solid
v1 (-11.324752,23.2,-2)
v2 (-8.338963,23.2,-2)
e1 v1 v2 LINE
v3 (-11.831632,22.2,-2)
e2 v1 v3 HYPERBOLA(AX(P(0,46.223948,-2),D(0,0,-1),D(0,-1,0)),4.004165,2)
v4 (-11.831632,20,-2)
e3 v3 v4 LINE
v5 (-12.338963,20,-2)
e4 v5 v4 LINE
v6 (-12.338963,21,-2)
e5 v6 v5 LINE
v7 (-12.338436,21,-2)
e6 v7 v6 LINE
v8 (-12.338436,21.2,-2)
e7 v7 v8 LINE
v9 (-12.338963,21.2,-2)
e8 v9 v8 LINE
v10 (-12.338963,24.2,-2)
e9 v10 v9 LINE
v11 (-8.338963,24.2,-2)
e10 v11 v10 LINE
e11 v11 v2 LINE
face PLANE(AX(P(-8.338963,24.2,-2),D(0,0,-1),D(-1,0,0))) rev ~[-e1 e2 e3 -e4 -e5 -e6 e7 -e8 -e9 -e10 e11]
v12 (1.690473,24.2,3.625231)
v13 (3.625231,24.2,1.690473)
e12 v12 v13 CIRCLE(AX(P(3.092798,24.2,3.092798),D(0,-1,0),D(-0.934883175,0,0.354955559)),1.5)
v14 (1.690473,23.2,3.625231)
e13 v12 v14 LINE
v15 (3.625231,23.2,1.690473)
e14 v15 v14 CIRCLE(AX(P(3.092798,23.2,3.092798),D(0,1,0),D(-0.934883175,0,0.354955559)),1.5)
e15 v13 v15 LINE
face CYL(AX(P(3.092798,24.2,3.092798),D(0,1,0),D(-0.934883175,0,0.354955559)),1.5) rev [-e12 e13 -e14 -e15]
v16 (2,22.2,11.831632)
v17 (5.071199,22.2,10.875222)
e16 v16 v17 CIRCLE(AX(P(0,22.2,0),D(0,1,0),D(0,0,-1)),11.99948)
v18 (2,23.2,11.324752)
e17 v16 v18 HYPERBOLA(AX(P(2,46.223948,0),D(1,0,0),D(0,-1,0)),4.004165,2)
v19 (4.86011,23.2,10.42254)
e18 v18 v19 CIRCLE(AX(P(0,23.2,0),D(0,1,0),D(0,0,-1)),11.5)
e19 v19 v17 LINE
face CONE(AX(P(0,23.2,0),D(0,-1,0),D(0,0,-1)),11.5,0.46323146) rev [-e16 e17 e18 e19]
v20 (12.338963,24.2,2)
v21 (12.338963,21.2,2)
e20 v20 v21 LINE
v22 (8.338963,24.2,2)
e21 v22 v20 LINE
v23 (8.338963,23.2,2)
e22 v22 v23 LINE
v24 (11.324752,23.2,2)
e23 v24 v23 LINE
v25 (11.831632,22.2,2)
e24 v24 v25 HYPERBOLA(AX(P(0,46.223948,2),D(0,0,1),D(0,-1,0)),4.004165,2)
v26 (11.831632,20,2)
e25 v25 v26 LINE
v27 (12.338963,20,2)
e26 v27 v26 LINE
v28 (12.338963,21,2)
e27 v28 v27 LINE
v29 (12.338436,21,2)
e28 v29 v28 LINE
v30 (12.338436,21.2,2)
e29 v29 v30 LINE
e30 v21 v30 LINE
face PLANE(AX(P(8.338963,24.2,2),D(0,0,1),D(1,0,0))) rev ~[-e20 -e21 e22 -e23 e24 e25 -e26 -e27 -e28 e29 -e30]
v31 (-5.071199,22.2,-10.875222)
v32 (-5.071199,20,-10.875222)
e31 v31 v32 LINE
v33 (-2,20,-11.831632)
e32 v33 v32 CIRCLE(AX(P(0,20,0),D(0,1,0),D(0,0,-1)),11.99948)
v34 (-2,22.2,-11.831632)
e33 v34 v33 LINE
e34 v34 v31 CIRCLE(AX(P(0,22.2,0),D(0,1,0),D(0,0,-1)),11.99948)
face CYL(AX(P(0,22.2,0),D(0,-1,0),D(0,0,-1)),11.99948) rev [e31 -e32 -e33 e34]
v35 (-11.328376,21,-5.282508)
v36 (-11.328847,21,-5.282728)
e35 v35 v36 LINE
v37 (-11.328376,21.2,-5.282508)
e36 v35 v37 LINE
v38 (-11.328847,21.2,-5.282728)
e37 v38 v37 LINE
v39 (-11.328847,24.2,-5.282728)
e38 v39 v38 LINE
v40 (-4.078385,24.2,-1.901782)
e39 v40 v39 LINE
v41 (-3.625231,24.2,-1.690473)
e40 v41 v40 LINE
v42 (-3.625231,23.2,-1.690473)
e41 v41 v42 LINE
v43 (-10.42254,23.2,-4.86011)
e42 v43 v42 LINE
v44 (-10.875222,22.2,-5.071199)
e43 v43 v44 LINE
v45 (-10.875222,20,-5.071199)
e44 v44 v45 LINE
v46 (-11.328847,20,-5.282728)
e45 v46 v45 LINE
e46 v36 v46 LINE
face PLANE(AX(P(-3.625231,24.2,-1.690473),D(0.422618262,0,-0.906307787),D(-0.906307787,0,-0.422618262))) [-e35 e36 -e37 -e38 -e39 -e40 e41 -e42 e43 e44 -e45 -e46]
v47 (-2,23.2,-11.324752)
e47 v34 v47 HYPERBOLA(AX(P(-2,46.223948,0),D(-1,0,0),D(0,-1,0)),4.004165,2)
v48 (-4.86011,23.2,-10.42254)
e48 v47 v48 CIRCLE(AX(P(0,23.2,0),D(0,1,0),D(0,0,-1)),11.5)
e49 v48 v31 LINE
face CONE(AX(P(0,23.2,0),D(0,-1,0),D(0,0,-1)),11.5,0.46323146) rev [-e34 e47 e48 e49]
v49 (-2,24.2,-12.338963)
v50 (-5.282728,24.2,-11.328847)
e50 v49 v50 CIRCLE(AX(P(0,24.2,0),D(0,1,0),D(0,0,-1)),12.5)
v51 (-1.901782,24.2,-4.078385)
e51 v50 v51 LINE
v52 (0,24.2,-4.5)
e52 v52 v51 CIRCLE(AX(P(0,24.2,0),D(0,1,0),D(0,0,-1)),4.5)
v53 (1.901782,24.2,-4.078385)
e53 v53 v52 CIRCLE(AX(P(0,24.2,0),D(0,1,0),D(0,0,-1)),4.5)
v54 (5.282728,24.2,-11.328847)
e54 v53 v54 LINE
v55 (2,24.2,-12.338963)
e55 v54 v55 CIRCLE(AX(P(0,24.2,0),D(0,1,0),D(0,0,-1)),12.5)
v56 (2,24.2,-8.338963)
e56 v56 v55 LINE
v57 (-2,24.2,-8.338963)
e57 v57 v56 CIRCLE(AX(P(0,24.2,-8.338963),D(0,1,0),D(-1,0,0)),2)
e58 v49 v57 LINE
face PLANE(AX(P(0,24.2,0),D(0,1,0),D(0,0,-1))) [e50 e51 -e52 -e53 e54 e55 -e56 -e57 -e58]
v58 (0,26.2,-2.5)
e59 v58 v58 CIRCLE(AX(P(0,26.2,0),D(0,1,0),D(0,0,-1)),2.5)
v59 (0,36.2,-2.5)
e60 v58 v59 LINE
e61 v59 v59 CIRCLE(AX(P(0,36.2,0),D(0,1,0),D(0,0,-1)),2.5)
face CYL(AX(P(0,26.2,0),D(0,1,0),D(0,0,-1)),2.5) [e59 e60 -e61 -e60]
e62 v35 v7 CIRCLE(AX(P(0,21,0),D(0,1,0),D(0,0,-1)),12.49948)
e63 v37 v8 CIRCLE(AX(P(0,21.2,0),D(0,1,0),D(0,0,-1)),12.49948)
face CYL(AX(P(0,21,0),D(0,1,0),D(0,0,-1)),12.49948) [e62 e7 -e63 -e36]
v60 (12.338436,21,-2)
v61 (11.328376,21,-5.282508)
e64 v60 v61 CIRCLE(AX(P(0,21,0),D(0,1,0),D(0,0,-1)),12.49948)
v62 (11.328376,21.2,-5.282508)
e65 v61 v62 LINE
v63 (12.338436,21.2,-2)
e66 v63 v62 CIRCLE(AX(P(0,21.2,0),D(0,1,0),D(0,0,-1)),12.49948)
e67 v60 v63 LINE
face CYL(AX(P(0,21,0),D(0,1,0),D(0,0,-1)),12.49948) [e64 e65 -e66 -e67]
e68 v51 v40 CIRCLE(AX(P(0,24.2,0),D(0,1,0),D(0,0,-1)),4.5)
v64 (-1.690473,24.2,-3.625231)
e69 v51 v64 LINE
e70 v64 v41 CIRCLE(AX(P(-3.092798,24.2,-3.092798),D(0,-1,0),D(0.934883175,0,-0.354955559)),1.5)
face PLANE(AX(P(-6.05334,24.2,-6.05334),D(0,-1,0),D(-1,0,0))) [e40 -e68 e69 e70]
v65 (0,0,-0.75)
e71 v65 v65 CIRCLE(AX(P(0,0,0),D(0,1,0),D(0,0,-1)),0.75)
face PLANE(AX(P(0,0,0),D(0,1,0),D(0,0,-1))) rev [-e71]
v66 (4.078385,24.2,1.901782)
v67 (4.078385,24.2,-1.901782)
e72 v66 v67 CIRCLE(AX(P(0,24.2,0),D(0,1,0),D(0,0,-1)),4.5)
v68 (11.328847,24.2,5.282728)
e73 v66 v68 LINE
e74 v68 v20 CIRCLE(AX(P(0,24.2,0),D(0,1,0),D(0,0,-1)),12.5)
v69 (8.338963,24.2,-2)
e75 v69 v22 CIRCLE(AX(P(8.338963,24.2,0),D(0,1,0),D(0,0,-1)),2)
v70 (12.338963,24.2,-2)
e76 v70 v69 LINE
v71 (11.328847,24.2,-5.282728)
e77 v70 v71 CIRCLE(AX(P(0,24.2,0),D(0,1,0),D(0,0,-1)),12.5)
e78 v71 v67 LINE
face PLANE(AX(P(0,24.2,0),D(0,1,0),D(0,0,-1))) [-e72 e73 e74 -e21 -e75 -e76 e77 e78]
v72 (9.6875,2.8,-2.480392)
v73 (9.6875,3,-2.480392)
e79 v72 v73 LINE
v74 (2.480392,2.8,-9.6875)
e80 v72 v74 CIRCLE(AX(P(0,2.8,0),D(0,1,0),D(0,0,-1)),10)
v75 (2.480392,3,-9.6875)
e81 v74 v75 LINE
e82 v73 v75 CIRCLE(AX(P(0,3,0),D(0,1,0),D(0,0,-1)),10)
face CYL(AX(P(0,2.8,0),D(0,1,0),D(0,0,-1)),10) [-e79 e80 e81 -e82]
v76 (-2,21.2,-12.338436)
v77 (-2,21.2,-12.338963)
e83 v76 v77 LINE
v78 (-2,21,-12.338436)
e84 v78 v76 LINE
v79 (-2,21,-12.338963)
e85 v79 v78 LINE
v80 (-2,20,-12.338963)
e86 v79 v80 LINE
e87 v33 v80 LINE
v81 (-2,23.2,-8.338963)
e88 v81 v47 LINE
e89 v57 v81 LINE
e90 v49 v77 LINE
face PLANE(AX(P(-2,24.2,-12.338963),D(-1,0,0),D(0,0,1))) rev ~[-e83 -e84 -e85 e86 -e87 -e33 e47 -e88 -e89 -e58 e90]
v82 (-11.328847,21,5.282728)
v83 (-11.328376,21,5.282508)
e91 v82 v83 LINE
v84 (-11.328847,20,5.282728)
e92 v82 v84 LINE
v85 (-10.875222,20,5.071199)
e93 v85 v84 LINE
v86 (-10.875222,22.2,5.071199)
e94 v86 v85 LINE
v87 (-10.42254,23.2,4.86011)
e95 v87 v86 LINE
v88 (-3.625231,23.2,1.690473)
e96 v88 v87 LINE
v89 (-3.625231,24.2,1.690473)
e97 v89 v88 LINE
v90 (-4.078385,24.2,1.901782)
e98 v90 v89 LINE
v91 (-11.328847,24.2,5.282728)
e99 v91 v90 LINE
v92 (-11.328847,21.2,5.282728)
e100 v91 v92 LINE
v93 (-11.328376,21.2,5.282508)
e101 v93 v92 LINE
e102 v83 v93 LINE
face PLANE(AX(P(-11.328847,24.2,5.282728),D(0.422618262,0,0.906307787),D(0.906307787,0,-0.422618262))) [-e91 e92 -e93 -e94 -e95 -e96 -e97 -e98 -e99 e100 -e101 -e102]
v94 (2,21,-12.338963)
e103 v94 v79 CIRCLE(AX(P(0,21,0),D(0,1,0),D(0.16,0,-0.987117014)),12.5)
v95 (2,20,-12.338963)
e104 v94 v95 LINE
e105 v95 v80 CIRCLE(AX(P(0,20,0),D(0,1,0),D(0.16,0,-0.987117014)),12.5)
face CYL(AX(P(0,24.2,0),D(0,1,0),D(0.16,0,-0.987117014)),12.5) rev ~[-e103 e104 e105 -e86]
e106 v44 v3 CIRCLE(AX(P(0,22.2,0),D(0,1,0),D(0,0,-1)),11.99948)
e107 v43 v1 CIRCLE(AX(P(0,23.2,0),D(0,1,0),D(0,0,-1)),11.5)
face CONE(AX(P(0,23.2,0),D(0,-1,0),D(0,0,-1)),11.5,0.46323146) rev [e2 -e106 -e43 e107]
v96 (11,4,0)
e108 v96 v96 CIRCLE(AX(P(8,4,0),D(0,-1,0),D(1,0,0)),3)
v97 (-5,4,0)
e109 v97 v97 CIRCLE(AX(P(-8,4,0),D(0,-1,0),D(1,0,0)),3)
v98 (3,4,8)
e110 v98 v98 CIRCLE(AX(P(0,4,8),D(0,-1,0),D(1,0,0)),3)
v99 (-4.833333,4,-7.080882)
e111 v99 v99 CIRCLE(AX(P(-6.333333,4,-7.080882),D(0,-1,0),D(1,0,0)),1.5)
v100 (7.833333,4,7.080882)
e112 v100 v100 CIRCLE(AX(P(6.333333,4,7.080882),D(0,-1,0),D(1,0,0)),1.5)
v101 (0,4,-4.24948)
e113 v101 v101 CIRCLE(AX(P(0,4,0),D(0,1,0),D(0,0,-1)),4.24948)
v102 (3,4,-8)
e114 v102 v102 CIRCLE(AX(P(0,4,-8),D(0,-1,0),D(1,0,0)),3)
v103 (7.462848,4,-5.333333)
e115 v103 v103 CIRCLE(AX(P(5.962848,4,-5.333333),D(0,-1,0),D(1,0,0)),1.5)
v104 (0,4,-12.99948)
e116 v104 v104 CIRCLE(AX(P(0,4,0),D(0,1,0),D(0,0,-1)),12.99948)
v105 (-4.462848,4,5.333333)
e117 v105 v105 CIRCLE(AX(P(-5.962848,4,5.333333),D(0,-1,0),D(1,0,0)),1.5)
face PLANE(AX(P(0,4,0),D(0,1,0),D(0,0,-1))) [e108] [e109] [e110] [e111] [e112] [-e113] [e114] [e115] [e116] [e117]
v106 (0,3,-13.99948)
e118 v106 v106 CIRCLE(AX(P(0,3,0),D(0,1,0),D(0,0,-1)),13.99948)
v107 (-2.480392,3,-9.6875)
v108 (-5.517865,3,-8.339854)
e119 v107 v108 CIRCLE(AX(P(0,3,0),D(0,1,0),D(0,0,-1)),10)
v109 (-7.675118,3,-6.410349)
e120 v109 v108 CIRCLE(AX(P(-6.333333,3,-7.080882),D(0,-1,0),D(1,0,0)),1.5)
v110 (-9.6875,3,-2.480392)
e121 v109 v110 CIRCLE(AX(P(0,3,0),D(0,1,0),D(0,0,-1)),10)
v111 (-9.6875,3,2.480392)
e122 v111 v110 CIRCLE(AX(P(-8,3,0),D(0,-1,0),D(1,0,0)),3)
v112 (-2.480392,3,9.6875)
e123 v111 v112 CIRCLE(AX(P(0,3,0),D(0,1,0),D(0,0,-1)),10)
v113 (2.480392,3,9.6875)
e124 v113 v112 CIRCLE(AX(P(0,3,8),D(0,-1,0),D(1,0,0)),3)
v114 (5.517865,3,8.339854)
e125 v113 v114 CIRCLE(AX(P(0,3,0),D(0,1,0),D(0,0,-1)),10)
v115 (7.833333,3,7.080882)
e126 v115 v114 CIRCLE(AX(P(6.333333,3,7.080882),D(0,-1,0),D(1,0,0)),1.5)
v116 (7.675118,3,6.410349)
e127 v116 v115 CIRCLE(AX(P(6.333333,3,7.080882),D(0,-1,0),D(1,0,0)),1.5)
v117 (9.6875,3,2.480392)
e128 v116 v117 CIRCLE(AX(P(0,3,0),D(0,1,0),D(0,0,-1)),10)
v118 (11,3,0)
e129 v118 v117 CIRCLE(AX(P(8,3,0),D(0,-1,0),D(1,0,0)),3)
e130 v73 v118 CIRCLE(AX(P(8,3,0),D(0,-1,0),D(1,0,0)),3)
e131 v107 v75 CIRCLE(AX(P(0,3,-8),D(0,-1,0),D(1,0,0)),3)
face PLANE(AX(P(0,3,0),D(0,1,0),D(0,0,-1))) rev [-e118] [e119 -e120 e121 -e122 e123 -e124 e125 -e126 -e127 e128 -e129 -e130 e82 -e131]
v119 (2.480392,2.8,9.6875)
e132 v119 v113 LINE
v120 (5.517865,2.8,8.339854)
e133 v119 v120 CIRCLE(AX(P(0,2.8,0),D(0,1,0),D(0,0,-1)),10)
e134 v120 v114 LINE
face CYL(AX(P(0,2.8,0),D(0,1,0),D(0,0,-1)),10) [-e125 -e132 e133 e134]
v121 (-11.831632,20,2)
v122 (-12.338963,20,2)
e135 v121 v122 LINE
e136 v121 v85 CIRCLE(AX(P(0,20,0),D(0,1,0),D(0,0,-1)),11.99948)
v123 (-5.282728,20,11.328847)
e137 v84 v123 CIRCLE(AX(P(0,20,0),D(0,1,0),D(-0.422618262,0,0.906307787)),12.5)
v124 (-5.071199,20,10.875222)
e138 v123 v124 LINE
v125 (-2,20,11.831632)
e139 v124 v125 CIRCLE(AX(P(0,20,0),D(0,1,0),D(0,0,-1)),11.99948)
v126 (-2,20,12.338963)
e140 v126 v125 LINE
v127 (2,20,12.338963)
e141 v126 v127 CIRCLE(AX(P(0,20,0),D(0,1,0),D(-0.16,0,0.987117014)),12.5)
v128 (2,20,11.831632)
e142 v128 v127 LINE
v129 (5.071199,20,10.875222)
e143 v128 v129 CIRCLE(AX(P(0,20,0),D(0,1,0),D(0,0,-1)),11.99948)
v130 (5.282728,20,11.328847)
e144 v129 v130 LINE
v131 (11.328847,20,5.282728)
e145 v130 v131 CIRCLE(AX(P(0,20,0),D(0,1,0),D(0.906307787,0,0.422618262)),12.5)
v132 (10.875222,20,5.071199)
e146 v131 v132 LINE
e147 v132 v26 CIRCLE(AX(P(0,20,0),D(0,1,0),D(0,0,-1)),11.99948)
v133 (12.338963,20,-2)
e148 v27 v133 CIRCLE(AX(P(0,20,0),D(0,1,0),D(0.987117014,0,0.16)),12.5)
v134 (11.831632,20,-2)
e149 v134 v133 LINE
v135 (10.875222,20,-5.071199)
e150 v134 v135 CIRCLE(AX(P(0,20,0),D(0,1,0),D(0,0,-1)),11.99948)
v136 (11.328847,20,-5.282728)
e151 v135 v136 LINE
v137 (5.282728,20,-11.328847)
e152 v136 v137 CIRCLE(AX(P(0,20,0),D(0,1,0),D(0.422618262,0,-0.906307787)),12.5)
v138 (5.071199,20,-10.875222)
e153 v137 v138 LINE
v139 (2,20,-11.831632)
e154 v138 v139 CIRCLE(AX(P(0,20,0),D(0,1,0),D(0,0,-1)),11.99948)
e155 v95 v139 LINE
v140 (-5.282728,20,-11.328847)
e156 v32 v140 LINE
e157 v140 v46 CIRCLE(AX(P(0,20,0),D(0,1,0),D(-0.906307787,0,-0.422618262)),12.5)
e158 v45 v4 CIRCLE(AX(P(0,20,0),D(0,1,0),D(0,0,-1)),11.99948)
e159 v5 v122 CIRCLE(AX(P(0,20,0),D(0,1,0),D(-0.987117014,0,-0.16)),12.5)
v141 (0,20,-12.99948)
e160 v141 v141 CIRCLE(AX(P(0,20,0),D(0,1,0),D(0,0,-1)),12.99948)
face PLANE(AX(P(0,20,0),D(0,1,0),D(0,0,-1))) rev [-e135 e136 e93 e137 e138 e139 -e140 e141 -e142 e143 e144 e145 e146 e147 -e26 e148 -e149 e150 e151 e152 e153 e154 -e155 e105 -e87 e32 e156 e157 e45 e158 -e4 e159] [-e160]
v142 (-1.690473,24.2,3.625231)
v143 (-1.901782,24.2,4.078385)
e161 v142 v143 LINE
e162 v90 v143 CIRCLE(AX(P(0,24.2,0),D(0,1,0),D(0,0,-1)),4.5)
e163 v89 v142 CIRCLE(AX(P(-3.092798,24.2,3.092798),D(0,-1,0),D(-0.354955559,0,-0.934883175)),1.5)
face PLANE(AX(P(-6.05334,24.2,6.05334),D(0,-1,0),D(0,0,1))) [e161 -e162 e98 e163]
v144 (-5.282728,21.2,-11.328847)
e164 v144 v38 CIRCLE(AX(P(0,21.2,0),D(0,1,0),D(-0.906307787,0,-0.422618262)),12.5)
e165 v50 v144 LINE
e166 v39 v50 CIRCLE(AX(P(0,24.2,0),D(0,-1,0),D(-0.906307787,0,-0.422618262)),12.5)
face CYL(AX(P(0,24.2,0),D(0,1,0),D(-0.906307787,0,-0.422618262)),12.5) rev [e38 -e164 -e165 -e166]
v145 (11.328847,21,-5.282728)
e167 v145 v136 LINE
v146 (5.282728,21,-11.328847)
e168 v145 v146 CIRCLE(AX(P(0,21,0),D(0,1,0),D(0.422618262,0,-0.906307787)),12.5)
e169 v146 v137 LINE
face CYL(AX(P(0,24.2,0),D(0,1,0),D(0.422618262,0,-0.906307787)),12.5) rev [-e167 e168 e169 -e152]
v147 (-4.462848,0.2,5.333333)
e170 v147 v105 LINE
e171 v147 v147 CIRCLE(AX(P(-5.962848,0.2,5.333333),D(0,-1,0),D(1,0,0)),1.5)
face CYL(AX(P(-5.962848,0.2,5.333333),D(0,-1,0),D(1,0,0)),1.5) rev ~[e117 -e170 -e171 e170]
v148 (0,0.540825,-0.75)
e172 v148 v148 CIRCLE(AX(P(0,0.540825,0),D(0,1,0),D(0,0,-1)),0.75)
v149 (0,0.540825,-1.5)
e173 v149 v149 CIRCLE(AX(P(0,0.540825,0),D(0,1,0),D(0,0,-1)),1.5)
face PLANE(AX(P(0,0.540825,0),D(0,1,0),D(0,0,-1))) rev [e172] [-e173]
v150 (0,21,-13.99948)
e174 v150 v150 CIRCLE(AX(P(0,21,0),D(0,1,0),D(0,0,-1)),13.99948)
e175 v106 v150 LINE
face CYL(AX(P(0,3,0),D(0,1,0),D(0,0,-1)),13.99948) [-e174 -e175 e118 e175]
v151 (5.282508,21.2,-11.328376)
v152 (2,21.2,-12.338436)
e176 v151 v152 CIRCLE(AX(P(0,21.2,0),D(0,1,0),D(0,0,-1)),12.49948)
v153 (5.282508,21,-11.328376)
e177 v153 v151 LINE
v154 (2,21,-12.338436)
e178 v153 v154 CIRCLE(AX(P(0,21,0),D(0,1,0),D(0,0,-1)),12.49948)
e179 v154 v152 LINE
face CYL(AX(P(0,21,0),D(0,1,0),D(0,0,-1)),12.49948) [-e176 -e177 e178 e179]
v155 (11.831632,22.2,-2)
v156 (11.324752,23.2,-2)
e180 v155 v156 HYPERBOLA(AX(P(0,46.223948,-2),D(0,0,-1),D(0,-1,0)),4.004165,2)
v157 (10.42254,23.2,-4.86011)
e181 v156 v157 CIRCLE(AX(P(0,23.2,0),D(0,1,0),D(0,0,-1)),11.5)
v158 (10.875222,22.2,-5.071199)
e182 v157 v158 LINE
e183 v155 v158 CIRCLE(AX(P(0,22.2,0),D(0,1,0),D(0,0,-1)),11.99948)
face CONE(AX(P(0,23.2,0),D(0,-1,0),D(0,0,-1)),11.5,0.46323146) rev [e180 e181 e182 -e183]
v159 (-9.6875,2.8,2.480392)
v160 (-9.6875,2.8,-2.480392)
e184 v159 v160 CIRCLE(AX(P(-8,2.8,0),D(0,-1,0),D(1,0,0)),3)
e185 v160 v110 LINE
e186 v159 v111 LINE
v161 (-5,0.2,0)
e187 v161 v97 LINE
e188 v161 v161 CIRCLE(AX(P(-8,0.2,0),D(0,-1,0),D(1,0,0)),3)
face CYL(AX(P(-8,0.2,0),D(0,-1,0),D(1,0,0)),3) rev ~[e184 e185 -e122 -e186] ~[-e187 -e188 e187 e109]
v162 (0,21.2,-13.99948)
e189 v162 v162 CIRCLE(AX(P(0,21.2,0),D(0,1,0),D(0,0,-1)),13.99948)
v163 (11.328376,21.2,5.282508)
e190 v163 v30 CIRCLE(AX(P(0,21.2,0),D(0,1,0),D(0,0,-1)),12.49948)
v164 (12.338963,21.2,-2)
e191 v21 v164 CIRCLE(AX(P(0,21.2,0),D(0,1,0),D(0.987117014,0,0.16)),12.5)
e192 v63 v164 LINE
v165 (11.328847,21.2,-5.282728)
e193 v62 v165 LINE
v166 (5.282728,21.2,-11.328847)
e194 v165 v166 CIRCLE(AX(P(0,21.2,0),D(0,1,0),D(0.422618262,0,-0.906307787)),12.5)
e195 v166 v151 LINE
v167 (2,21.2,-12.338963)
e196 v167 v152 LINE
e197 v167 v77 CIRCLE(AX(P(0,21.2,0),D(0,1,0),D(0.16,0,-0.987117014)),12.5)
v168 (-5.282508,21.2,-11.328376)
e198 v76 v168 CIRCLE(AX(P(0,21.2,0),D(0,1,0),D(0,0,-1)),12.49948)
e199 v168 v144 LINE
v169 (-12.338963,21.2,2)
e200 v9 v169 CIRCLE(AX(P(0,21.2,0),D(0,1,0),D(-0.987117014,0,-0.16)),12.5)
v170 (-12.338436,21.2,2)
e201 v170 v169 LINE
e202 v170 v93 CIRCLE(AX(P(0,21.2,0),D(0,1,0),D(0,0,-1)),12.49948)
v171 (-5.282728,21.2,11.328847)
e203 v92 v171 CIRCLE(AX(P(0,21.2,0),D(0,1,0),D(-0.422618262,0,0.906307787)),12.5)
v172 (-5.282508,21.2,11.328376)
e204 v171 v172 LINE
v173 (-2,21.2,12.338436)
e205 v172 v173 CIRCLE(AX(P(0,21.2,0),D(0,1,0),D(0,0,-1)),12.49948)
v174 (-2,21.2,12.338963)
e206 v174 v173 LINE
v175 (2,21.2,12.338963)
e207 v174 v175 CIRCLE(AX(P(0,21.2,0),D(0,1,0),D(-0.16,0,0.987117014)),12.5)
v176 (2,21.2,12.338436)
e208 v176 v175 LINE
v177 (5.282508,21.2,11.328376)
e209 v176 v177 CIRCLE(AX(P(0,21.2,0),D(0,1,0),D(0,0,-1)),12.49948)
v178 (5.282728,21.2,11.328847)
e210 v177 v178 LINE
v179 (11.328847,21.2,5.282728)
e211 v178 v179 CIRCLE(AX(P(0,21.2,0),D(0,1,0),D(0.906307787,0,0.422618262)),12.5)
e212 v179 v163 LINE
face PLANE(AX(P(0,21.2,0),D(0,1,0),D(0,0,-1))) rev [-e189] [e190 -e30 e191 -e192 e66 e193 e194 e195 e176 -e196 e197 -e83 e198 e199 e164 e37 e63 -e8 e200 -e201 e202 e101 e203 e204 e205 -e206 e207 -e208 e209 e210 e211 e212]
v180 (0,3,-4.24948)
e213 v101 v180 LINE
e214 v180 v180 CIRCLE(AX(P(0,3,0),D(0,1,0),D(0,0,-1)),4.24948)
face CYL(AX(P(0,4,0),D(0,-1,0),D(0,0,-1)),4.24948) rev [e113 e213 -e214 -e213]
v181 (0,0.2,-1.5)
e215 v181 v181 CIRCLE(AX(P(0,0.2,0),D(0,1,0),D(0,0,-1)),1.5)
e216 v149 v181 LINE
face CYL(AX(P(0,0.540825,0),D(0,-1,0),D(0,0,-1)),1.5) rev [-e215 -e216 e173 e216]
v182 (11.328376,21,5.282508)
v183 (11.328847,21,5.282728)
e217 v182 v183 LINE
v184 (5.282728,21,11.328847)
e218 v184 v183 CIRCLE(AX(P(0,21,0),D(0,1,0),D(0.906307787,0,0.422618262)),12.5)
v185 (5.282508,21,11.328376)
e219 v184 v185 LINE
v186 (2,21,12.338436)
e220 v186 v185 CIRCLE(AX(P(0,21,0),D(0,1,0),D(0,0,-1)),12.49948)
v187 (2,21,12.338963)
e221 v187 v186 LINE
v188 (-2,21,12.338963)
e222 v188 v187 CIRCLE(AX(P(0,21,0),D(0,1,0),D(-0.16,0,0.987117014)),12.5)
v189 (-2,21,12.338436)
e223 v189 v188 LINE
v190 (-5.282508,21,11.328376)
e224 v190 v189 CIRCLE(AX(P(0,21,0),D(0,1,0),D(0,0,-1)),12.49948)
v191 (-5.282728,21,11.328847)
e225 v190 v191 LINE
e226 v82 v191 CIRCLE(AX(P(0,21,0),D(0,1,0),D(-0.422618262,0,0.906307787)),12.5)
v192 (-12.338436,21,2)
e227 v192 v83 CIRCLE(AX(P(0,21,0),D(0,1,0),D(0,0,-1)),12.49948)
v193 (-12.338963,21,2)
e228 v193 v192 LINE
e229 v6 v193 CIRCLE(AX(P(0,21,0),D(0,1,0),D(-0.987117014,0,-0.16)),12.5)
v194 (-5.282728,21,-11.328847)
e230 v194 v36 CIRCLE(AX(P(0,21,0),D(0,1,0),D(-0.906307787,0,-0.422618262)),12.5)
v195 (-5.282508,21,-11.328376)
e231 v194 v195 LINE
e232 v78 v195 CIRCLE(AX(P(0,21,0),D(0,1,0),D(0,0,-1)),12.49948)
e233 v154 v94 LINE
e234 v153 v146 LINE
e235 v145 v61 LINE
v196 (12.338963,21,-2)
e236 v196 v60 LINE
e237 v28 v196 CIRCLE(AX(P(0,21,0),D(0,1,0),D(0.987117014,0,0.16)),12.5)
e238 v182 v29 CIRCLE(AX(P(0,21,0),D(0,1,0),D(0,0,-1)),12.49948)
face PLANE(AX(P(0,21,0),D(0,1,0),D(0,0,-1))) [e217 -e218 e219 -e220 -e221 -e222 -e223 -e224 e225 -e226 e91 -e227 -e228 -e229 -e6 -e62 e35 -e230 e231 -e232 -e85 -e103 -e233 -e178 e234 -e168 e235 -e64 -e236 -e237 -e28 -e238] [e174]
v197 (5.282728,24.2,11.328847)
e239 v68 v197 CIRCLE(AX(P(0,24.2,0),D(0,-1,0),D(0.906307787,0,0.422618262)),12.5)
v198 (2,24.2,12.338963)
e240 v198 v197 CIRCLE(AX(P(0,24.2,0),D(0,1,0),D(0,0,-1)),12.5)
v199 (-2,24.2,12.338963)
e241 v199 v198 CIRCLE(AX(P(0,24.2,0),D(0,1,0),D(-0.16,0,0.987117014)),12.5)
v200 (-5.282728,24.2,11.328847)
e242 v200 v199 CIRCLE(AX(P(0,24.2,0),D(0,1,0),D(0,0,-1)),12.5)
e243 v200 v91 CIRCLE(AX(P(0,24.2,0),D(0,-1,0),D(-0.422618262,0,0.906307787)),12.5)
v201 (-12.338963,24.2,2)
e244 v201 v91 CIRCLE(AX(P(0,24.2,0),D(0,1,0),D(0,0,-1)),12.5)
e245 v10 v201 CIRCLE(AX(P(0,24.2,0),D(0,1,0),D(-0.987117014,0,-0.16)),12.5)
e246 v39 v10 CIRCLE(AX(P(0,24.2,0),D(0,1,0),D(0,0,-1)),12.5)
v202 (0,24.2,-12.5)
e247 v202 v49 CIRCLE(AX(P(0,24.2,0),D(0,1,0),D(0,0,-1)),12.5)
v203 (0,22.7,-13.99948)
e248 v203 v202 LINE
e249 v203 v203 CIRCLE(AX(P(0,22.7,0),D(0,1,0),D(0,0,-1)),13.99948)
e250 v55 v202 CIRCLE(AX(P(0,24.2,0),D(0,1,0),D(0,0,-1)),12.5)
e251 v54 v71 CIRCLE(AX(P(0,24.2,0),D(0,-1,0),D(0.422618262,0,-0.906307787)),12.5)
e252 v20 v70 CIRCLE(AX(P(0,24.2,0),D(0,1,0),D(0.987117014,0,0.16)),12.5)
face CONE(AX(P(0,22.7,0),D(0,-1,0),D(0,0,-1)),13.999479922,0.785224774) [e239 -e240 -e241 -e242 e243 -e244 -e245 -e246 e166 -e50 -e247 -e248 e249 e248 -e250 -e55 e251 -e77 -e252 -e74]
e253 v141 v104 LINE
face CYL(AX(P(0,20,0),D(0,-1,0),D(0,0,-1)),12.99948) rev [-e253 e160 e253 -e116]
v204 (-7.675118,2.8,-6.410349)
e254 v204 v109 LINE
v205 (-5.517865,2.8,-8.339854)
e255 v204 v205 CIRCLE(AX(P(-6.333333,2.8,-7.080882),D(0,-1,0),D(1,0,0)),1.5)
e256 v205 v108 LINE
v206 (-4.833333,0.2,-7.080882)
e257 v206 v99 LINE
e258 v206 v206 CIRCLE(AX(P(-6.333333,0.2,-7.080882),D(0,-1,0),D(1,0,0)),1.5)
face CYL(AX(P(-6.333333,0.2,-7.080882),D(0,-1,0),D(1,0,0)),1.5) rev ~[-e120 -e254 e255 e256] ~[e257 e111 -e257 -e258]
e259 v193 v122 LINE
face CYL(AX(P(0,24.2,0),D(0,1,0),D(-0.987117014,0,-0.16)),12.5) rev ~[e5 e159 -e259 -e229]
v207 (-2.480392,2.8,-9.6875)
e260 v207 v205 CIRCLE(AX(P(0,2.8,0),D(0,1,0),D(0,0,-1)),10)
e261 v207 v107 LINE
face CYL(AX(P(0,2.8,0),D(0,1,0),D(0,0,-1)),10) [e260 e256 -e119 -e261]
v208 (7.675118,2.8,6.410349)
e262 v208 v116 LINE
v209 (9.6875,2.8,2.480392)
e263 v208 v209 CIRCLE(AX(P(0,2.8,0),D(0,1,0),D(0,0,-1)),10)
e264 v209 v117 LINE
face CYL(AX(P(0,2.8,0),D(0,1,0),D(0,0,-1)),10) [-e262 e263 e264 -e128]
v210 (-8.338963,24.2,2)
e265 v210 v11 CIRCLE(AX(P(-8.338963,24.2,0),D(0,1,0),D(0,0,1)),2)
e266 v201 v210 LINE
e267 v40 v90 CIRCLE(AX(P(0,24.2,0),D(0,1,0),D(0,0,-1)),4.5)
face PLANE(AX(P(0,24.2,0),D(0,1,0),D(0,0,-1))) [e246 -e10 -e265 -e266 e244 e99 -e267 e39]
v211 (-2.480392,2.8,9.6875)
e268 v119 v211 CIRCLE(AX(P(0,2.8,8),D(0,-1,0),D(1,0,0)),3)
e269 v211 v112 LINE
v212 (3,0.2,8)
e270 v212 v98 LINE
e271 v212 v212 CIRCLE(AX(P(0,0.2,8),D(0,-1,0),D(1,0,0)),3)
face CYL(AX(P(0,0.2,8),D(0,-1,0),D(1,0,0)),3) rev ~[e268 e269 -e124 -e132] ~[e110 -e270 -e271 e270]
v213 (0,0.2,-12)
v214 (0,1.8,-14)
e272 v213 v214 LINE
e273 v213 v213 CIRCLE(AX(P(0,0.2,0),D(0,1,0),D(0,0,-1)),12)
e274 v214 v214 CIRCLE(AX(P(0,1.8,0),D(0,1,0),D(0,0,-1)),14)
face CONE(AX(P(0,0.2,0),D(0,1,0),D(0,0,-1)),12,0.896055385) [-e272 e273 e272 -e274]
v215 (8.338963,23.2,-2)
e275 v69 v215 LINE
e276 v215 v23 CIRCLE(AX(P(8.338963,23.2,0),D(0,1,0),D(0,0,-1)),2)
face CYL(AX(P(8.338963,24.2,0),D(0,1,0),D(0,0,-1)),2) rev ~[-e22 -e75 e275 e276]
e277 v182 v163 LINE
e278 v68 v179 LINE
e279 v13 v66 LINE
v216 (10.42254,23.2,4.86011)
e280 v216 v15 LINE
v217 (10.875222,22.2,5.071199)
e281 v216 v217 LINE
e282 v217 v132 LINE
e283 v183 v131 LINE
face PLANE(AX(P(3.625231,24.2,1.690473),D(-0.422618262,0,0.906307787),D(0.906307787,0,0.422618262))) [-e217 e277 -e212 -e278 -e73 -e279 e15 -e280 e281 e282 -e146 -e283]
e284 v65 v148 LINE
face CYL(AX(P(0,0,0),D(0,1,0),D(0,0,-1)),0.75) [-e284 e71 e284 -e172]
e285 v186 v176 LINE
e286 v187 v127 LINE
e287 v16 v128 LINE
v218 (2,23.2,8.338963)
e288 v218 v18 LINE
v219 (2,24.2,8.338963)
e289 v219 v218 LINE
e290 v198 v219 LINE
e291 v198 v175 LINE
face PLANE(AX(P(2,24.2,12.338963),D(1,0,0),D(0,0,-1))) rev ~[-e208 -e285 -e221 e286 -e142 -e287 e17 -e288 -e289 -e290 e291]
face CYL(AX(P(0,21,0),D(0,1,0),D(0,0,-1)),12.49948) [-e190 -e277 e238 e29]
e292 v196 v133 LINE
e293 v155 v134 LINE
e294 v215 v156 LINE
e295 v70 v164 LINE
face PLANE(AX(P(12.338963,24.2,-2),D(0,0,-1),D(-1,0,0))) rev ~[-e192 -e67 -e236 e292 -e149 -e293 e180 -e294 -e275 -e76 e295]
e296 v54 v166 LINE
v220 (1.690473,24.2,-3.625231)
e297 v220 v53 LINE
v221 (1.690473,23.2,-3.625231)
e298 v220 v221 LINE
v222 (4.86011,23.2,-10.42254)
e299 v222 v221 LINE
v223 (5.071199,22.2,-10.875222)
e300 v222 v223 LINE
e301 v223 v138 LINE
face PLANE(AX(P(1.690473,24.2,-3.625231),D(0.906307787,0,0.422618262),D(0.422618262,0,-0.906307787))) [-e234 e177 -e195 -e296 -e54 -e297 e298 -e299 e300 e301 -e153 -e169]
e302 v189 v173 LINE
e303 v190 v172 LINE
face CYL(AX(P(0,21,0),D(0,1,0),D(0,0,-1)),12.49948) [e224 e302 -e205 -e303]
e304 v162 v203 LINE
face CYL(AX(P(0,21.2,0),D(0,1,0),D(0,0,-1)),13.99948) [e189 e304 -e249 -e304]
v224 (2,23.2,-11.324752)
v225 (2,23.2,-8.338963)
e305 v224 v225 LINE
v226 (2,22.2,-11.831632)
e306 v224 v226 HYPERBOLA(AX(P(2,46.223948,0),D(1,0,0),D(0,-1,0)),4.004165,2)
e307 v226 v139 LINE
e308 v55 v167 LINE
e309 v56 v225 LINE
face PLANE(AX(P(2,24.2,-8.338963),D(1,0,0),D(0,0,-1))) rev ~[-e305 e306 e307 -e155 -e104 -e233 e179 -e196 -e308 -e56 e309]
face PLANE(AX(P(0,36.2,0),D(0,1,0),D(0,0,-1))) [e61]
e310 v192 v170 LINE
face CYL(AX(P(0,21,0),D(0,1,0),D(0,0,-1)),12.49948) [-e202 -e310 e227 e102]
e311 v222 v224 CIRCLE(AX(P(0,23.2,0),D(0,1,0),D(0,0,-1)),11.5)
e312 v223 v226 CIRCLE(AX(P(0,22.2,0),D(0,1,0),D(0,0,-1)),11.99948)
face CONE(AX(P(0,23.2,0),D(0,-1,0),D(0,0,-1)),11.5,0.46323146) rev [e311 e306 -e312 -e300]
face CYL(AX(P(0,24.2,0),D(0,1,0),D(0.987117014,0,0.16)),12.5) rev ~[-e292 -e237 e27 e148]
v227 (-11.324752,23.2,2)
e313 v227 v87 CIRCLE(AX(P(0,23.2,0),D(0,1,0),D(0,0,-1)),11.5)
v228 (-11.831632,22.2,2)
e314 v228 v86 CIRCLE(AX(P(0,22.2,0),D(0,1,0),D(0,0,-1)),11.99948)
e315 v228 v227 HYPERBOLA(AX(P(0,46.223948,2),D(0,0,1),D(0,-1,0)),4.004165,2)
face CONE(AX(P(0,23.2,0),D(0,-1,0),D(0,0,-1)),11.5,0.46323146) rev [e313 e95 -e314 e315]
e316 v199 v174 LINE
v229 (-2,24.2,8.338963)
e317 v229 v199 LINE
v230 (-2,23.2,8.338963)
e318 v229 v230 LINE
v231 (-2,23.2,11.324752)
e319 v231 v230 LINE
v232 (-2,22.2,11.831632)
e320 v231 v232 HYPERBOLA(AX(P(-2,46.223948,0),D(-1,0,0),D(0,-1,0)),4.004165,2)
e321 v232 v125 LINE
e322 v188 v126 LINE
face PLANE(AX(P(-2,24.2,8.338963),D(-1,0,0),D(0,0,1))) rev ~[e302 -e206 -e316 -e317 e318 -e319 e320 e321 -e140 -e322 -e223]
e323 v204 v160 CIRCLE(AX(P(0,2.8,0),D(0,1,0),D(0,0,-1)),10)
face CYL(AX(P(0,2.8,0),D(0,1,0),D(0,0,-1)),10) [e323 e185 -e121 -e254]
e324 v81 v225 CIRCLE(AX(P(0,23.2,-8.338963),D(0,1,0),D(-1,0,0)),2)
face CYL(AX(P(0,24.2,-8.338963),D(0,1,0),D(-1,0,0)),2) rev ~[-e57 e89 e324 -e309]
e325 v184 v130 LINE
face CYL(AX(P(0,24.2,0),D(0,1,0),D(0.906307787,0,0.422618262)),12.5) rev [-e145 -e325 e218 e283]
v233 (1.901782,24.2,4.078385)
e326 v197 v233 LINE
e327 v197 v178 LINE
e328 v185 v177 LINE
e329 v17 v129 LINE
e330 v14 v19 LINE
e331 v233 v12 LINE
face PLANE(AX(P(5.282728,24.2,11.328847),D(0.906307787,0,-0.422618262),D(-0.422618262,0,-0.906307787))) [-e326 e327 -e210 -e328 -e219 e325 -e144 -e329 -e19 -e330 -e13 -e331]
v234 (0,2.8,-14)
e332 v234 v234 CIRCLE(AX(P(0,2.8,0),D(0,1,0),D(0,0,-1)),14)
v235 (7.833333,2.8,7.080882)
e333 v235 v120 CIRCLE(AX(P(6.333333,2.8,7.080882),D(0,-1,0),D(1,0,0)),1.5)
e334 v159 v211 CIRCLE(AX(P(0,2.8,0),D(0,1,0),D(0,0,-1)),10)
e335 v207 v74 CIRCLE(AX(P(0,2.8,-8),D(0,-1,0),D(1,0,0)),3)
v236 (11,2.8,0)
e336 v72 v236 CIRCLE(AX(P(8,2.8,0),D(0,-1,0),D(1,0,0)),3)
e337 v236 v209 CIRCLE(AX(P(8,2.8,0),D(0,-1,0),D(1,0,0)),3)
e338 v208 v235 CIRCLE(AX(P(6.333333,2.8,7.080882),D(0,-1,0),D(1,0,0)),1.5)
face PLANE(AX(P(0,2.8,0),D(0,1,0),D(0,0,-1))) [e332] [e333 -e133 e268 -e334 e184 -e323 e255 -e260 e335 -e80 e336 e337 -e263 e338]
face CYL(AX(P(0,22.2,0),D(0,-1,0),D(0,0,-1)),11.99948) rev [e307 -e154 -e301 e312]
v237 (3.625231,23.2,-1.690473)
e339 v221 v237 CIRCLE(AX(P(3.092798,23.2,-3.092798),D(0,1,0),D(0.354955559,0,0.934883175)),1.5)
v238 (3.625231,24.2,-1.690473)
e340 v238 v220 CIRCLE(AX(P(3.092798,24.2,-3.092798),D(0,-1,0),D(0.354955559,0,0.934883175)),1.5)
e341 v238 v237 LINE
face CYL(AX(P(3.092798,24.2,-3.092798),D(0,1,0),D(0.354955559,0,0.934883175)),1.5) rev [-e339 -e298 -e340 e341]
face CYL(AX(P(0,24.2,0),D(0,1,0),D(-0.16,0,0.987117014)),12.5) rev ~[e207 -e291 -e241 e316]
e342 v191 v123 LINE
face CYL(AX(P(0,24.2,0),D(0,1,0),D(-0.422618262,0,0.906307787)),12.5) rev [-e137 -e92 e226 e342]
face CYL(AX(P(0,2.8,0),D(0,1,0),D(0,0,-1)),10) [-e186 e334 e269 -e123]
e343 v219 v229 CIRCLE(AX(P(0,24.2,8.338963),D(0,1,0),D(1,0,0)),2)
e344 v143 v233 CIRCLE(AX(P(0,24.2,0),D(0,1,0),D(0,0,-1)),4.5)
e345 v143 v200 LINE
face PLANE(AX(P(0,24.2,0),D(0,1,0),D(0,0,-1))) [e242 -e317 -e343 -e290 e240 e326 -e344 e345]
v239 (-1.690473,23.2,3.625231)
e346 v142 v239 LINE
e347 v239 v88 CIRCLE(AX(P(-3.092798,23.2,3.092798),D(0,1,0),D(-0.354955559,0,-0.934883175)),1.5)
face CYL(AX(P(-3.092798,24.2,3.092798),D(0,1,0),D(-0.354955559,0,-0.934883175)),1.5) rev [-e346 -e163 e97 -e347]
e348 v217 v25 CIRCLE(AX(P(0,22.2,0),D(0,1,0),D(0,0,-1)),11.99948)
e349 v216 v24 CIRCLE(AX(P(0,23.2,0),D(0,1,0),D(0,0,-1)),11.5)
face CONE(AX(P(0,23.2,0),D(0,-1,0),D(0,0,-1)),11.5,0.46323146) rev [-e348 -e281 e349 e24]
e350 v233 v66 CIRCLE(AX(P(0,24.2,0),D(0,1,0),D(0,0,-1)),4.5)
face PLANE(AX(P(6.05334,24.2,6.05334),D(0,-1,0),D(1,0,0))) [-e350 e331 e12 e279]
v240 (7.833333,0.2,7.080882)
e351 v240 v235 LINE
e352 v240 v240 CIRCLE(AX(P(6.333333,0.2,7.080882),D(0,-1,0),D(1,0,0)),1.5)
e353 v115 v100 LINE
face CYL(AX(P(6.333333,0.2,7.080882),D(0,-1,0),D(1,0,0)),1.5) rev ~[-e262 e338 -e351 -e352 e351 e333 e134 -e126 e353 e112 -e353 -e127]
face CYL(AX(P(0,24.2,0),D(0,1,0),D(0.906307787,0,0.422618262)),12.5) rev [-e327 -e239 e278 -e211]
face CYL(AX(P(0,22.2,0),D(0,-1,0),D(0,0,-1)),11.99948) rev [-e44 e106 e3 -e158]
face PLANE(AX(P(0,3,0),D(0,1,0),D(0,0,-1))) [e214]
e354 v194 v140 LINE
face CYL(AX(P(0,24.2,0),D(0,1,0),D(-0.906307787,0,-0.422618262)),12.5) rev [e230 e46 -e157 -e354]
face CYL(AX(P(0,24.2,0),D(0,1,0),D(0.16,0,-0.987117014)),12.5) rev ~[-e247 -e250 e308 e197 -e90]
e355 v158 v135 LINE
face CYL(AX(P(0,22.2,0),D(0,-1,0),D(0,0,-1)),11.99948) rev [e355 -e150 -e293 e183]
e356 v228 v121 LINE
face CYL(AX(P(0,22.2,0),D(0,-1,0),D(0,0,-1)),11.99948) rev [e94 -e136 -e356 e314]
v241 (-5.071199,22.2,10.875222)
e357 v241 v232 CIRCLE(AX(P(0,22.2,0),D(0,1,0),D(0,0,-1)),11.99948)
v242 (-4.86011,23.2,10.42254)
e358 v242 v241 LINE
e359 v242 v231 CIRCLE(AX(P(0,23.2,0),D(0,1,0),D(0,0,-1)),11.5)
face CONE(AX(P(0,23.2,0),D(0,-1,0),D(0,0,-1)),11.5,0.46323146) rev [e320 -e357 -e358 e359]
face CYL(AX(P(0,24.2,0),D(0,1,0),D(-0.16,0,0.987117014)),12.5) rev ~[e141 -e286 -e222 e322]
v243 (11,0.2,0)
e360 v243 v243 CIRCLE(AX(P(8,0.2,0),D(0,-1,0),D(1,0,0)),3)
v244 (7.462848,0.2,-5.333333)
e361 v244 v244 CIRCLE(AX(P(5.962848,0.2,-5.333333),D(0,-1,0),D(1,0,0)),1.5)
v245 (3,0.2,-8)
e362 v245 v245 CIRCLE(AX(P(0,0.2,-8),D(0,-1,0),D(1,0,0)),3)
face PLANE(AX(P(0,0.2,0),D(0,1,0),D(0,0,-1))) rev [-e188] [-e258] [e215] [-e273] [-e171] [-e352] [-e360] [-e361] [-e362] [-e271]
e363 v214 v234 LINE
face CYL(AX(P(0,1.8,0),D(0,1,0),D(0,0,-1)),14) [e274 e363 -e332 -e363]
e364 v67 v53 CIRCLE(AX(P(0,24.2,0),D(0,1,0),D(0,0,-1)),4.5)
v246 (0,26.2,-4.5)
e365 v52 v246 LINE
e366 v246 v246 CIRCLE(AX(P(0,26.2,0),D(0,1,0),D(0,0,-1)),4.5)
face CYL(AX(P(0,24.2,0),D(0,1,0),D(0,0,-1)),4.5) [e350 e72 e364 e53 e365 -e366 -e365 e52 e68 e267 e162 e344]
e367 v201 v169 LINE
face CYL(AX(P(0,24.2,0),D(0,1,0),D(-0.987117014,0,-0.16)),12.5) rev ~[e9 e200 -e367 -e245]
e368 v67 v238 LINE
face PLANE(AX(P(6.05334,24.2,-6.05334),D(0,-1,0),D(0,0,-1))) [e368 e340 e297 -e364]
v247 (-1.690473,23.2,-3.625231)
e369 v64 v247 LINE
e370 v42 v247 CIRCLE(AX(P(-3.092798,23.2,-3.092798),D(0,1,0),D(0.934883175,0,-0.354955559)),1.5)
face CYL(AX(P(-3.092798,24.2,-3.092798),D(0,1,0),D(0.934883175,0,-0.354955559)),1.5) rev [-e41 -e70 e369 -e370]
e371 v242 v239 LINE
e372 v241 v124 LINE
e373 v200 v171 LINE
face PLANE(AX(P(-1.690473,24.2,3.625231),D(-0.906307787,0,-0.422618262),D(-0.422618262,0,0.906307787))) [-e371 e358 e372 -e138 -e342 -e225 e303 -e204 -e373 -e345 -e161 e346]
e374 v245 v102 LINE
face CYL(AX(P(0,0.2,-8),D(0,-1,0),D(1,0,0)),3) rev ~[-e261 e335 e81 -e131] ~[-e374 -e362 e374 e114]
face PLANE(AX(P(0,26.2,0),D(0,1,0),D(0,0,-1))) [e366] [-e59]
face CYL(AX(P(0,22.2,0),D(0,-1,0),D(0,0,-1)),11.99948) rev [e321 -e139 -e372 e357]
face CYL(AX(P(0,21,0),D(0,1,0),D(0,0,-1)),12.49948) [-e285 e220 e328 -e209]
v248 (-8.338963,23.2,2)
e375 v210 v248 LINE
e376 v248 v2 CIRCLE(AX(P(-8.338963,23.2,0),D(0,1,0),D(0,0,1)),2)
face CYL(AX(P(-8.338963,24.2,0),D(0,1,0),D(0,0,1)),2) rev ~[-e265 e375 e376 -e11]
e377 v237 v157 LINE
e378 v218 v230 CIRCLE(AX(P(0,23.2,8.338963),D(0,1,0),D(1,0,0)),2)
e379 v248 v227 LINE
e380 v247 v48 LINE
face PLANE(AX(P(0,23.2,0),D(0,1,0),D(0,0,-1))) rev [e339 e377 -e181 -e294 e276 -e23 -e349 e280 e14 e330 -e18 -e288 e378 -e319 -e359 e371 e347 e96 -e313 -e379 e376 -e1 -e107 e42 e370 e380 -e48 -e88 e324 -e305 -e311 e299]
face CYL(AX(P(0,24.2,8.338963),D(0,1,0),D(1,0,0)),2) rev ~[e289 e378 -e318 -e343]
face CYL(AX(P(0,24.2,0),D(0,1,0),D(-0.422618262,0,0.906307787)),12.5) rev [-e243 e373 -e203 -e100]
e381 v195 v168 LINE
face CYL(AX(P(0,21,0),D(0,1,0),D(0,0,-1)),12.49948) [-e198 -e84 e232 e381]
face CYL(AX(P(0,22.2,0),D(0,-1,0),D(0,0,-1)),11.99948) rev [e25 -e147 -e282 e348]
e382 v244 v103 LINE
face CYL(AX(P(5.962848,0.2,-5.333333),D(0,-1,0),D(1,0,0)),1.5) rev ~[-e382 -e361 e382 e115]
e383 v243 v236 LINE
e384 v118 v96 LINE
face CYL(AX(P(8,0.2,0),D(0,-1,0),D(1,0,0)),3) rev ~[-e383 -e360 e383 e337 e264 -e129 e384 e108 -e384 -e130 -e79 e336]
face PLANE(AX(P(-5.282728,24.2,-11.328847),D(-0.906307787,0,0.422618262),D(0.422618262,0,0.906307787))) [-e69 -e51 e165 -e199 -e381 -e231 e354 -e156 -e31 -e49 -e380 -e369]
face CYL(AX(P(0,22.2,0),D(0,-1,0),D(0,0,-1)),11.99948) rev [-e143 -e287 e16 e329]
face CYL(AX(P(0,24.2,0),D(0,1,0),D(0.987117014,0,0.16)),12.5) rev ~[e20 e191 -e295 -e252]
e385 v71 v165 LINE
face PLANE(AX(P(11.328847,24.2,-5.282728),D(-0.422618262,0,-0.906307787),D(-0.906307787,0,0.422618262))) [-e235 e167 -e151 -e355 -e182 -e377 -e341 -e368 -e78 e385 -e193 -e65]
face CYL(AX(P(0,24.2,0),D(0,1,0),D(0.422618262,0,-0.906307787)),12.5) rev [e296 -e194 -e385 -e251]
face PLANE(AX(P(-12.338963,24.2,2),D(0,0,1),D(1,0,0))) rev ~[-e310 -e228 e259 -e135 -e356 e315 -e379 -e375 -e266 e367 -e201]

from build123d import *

# Parameters (mm, degrees)
CUT_EXTRUDE_1_DEPTH      = 10
PATTERN_CIRCULAR_1_COUNT = 4
SKETCH_3_R               = 3
SKETCH_3_R_2             = 1.5
CUT_EXTRUDE_2_DEPTH      = 5


with BuildPart() as part:
    # 草图1 → 旋转2 (revolve)
    with BuildSketch(Plane(origin=(0, 0, 0), x_dir=(0, 0, -1), z_dir=(1, 0, 0))):
        Polygon((13.999479922, 22.7), (12.5, 24.2), (4.5, 24.2), (4.5, 26.2), (2.5, 26.2), (2.5, 36.2), (0, 36.2), (0, 23.2), (11.5, 23.2), (11.999479922, 22.2), (11.999479922, 20), (12.999479922, 20), (12.999479922, 4), (4.249479922, 4), (4.249479922, 3), (0, 3), (0, 0), (0.75, 0), (0.75, 0.540825023), (1.5, 0.540825023), (1.5, 0.2), (12, 0.2), (14, 1.8), (14, 2.8), (10, 2.8), (10, 3), (13.999479922, 3), (13.999479922, 21), (12.499479922, 21), (12.499479922, 21.2), (13.999479922, 21.2), align=None)
    revolve(axis=Axis((0, 0, 0), (0, 1, 0)))

    # 草图2 → 切除-拉伸1 (cut)
    with BuildSketch(Plane(origin=(0, 24.2, 0), x_dir=(1, 0, 0), z_dir=(0, 1, 0))):
        with BuildLine():
            Line((-2, 12.338962679), (-2, 8.338962679))
            ThreePointArc((-2, 8.338962679), (0, 6.338962679), (2, 8.338962679))
            Line((2, 8.338962679), (2, 12.338962679))
            ThreePointArc((2, 12.338962679), (0, 12.5), (-2, 12.338962679))
        make_face()
        with BuildLine():
            Line((-5.282728272, 11.328847338), (-1.690473047, 3.625231148))
            ThreePointArc((-1.690473047, 3.625231148), (-2.032137638, 2.032137638), (-3.625231148, 1.690473047))
            Line((-3.625231148, 1.690473047), (-11.328847338, 5.282728272))
            ThreePointArc((-11.328847338, 5.282728272), (-8.838834765, 8.838834765), (-5.282728272, 11.328847338))
        make_face()
    cut_extrude_1 = extrude(amount=-CUT_EXTRUDE_1_DEPTH, mode=Mode.SUBTRACT)

    # 阵列(圆周)1: 切除-拉伸1 ×4 about axis
    pattern_circular_1_axis = Axis((0, -1.41, 0), (0, 1, 0))
    for i in range(1, PATTERN_CIRCULAR_1_COUNT):
        add(cut_extrude_1.rotate(pattern_circular_1_axis, i * 360 / PATTERN_CIRCULAR_1_COUNT), mode=Mode.SUBTRACT)

    # 草图3 → 切除-拉伸2 (cut)
    with BuildSketch(Plane.XZ.offset(-0.2)):
        with Locations((8, 0)):
            Circle(SKETCH_3_R)
        with Locations((0, 8)):
            Circle(SKETCH_3_R)
        with Locations((-8, 0)):
            Circle(SKETCH_3_R)
        with Locations((0, -8)):
            Circle(SKETCH_3_R)
        with Locations((6.333333333, 7.080881929)):
            Circle(SKETCH_3_R_2)
        with Locations((-6.333333333, -7.080881929)):
            Circle(SKETCH_3_R_2)
        with Locations((-5.96284794, 5.333333333)):
            Circle(SKETCH_3_R_2)
        with Locations((5.96284794, -5.333333333)):
            Circle(SKETCH_3_R_2)
    extrude(amount=-CUT_EXTRUDE_2_DEPTH, mode=Mode.SUBTRACT)


solid = part.part
